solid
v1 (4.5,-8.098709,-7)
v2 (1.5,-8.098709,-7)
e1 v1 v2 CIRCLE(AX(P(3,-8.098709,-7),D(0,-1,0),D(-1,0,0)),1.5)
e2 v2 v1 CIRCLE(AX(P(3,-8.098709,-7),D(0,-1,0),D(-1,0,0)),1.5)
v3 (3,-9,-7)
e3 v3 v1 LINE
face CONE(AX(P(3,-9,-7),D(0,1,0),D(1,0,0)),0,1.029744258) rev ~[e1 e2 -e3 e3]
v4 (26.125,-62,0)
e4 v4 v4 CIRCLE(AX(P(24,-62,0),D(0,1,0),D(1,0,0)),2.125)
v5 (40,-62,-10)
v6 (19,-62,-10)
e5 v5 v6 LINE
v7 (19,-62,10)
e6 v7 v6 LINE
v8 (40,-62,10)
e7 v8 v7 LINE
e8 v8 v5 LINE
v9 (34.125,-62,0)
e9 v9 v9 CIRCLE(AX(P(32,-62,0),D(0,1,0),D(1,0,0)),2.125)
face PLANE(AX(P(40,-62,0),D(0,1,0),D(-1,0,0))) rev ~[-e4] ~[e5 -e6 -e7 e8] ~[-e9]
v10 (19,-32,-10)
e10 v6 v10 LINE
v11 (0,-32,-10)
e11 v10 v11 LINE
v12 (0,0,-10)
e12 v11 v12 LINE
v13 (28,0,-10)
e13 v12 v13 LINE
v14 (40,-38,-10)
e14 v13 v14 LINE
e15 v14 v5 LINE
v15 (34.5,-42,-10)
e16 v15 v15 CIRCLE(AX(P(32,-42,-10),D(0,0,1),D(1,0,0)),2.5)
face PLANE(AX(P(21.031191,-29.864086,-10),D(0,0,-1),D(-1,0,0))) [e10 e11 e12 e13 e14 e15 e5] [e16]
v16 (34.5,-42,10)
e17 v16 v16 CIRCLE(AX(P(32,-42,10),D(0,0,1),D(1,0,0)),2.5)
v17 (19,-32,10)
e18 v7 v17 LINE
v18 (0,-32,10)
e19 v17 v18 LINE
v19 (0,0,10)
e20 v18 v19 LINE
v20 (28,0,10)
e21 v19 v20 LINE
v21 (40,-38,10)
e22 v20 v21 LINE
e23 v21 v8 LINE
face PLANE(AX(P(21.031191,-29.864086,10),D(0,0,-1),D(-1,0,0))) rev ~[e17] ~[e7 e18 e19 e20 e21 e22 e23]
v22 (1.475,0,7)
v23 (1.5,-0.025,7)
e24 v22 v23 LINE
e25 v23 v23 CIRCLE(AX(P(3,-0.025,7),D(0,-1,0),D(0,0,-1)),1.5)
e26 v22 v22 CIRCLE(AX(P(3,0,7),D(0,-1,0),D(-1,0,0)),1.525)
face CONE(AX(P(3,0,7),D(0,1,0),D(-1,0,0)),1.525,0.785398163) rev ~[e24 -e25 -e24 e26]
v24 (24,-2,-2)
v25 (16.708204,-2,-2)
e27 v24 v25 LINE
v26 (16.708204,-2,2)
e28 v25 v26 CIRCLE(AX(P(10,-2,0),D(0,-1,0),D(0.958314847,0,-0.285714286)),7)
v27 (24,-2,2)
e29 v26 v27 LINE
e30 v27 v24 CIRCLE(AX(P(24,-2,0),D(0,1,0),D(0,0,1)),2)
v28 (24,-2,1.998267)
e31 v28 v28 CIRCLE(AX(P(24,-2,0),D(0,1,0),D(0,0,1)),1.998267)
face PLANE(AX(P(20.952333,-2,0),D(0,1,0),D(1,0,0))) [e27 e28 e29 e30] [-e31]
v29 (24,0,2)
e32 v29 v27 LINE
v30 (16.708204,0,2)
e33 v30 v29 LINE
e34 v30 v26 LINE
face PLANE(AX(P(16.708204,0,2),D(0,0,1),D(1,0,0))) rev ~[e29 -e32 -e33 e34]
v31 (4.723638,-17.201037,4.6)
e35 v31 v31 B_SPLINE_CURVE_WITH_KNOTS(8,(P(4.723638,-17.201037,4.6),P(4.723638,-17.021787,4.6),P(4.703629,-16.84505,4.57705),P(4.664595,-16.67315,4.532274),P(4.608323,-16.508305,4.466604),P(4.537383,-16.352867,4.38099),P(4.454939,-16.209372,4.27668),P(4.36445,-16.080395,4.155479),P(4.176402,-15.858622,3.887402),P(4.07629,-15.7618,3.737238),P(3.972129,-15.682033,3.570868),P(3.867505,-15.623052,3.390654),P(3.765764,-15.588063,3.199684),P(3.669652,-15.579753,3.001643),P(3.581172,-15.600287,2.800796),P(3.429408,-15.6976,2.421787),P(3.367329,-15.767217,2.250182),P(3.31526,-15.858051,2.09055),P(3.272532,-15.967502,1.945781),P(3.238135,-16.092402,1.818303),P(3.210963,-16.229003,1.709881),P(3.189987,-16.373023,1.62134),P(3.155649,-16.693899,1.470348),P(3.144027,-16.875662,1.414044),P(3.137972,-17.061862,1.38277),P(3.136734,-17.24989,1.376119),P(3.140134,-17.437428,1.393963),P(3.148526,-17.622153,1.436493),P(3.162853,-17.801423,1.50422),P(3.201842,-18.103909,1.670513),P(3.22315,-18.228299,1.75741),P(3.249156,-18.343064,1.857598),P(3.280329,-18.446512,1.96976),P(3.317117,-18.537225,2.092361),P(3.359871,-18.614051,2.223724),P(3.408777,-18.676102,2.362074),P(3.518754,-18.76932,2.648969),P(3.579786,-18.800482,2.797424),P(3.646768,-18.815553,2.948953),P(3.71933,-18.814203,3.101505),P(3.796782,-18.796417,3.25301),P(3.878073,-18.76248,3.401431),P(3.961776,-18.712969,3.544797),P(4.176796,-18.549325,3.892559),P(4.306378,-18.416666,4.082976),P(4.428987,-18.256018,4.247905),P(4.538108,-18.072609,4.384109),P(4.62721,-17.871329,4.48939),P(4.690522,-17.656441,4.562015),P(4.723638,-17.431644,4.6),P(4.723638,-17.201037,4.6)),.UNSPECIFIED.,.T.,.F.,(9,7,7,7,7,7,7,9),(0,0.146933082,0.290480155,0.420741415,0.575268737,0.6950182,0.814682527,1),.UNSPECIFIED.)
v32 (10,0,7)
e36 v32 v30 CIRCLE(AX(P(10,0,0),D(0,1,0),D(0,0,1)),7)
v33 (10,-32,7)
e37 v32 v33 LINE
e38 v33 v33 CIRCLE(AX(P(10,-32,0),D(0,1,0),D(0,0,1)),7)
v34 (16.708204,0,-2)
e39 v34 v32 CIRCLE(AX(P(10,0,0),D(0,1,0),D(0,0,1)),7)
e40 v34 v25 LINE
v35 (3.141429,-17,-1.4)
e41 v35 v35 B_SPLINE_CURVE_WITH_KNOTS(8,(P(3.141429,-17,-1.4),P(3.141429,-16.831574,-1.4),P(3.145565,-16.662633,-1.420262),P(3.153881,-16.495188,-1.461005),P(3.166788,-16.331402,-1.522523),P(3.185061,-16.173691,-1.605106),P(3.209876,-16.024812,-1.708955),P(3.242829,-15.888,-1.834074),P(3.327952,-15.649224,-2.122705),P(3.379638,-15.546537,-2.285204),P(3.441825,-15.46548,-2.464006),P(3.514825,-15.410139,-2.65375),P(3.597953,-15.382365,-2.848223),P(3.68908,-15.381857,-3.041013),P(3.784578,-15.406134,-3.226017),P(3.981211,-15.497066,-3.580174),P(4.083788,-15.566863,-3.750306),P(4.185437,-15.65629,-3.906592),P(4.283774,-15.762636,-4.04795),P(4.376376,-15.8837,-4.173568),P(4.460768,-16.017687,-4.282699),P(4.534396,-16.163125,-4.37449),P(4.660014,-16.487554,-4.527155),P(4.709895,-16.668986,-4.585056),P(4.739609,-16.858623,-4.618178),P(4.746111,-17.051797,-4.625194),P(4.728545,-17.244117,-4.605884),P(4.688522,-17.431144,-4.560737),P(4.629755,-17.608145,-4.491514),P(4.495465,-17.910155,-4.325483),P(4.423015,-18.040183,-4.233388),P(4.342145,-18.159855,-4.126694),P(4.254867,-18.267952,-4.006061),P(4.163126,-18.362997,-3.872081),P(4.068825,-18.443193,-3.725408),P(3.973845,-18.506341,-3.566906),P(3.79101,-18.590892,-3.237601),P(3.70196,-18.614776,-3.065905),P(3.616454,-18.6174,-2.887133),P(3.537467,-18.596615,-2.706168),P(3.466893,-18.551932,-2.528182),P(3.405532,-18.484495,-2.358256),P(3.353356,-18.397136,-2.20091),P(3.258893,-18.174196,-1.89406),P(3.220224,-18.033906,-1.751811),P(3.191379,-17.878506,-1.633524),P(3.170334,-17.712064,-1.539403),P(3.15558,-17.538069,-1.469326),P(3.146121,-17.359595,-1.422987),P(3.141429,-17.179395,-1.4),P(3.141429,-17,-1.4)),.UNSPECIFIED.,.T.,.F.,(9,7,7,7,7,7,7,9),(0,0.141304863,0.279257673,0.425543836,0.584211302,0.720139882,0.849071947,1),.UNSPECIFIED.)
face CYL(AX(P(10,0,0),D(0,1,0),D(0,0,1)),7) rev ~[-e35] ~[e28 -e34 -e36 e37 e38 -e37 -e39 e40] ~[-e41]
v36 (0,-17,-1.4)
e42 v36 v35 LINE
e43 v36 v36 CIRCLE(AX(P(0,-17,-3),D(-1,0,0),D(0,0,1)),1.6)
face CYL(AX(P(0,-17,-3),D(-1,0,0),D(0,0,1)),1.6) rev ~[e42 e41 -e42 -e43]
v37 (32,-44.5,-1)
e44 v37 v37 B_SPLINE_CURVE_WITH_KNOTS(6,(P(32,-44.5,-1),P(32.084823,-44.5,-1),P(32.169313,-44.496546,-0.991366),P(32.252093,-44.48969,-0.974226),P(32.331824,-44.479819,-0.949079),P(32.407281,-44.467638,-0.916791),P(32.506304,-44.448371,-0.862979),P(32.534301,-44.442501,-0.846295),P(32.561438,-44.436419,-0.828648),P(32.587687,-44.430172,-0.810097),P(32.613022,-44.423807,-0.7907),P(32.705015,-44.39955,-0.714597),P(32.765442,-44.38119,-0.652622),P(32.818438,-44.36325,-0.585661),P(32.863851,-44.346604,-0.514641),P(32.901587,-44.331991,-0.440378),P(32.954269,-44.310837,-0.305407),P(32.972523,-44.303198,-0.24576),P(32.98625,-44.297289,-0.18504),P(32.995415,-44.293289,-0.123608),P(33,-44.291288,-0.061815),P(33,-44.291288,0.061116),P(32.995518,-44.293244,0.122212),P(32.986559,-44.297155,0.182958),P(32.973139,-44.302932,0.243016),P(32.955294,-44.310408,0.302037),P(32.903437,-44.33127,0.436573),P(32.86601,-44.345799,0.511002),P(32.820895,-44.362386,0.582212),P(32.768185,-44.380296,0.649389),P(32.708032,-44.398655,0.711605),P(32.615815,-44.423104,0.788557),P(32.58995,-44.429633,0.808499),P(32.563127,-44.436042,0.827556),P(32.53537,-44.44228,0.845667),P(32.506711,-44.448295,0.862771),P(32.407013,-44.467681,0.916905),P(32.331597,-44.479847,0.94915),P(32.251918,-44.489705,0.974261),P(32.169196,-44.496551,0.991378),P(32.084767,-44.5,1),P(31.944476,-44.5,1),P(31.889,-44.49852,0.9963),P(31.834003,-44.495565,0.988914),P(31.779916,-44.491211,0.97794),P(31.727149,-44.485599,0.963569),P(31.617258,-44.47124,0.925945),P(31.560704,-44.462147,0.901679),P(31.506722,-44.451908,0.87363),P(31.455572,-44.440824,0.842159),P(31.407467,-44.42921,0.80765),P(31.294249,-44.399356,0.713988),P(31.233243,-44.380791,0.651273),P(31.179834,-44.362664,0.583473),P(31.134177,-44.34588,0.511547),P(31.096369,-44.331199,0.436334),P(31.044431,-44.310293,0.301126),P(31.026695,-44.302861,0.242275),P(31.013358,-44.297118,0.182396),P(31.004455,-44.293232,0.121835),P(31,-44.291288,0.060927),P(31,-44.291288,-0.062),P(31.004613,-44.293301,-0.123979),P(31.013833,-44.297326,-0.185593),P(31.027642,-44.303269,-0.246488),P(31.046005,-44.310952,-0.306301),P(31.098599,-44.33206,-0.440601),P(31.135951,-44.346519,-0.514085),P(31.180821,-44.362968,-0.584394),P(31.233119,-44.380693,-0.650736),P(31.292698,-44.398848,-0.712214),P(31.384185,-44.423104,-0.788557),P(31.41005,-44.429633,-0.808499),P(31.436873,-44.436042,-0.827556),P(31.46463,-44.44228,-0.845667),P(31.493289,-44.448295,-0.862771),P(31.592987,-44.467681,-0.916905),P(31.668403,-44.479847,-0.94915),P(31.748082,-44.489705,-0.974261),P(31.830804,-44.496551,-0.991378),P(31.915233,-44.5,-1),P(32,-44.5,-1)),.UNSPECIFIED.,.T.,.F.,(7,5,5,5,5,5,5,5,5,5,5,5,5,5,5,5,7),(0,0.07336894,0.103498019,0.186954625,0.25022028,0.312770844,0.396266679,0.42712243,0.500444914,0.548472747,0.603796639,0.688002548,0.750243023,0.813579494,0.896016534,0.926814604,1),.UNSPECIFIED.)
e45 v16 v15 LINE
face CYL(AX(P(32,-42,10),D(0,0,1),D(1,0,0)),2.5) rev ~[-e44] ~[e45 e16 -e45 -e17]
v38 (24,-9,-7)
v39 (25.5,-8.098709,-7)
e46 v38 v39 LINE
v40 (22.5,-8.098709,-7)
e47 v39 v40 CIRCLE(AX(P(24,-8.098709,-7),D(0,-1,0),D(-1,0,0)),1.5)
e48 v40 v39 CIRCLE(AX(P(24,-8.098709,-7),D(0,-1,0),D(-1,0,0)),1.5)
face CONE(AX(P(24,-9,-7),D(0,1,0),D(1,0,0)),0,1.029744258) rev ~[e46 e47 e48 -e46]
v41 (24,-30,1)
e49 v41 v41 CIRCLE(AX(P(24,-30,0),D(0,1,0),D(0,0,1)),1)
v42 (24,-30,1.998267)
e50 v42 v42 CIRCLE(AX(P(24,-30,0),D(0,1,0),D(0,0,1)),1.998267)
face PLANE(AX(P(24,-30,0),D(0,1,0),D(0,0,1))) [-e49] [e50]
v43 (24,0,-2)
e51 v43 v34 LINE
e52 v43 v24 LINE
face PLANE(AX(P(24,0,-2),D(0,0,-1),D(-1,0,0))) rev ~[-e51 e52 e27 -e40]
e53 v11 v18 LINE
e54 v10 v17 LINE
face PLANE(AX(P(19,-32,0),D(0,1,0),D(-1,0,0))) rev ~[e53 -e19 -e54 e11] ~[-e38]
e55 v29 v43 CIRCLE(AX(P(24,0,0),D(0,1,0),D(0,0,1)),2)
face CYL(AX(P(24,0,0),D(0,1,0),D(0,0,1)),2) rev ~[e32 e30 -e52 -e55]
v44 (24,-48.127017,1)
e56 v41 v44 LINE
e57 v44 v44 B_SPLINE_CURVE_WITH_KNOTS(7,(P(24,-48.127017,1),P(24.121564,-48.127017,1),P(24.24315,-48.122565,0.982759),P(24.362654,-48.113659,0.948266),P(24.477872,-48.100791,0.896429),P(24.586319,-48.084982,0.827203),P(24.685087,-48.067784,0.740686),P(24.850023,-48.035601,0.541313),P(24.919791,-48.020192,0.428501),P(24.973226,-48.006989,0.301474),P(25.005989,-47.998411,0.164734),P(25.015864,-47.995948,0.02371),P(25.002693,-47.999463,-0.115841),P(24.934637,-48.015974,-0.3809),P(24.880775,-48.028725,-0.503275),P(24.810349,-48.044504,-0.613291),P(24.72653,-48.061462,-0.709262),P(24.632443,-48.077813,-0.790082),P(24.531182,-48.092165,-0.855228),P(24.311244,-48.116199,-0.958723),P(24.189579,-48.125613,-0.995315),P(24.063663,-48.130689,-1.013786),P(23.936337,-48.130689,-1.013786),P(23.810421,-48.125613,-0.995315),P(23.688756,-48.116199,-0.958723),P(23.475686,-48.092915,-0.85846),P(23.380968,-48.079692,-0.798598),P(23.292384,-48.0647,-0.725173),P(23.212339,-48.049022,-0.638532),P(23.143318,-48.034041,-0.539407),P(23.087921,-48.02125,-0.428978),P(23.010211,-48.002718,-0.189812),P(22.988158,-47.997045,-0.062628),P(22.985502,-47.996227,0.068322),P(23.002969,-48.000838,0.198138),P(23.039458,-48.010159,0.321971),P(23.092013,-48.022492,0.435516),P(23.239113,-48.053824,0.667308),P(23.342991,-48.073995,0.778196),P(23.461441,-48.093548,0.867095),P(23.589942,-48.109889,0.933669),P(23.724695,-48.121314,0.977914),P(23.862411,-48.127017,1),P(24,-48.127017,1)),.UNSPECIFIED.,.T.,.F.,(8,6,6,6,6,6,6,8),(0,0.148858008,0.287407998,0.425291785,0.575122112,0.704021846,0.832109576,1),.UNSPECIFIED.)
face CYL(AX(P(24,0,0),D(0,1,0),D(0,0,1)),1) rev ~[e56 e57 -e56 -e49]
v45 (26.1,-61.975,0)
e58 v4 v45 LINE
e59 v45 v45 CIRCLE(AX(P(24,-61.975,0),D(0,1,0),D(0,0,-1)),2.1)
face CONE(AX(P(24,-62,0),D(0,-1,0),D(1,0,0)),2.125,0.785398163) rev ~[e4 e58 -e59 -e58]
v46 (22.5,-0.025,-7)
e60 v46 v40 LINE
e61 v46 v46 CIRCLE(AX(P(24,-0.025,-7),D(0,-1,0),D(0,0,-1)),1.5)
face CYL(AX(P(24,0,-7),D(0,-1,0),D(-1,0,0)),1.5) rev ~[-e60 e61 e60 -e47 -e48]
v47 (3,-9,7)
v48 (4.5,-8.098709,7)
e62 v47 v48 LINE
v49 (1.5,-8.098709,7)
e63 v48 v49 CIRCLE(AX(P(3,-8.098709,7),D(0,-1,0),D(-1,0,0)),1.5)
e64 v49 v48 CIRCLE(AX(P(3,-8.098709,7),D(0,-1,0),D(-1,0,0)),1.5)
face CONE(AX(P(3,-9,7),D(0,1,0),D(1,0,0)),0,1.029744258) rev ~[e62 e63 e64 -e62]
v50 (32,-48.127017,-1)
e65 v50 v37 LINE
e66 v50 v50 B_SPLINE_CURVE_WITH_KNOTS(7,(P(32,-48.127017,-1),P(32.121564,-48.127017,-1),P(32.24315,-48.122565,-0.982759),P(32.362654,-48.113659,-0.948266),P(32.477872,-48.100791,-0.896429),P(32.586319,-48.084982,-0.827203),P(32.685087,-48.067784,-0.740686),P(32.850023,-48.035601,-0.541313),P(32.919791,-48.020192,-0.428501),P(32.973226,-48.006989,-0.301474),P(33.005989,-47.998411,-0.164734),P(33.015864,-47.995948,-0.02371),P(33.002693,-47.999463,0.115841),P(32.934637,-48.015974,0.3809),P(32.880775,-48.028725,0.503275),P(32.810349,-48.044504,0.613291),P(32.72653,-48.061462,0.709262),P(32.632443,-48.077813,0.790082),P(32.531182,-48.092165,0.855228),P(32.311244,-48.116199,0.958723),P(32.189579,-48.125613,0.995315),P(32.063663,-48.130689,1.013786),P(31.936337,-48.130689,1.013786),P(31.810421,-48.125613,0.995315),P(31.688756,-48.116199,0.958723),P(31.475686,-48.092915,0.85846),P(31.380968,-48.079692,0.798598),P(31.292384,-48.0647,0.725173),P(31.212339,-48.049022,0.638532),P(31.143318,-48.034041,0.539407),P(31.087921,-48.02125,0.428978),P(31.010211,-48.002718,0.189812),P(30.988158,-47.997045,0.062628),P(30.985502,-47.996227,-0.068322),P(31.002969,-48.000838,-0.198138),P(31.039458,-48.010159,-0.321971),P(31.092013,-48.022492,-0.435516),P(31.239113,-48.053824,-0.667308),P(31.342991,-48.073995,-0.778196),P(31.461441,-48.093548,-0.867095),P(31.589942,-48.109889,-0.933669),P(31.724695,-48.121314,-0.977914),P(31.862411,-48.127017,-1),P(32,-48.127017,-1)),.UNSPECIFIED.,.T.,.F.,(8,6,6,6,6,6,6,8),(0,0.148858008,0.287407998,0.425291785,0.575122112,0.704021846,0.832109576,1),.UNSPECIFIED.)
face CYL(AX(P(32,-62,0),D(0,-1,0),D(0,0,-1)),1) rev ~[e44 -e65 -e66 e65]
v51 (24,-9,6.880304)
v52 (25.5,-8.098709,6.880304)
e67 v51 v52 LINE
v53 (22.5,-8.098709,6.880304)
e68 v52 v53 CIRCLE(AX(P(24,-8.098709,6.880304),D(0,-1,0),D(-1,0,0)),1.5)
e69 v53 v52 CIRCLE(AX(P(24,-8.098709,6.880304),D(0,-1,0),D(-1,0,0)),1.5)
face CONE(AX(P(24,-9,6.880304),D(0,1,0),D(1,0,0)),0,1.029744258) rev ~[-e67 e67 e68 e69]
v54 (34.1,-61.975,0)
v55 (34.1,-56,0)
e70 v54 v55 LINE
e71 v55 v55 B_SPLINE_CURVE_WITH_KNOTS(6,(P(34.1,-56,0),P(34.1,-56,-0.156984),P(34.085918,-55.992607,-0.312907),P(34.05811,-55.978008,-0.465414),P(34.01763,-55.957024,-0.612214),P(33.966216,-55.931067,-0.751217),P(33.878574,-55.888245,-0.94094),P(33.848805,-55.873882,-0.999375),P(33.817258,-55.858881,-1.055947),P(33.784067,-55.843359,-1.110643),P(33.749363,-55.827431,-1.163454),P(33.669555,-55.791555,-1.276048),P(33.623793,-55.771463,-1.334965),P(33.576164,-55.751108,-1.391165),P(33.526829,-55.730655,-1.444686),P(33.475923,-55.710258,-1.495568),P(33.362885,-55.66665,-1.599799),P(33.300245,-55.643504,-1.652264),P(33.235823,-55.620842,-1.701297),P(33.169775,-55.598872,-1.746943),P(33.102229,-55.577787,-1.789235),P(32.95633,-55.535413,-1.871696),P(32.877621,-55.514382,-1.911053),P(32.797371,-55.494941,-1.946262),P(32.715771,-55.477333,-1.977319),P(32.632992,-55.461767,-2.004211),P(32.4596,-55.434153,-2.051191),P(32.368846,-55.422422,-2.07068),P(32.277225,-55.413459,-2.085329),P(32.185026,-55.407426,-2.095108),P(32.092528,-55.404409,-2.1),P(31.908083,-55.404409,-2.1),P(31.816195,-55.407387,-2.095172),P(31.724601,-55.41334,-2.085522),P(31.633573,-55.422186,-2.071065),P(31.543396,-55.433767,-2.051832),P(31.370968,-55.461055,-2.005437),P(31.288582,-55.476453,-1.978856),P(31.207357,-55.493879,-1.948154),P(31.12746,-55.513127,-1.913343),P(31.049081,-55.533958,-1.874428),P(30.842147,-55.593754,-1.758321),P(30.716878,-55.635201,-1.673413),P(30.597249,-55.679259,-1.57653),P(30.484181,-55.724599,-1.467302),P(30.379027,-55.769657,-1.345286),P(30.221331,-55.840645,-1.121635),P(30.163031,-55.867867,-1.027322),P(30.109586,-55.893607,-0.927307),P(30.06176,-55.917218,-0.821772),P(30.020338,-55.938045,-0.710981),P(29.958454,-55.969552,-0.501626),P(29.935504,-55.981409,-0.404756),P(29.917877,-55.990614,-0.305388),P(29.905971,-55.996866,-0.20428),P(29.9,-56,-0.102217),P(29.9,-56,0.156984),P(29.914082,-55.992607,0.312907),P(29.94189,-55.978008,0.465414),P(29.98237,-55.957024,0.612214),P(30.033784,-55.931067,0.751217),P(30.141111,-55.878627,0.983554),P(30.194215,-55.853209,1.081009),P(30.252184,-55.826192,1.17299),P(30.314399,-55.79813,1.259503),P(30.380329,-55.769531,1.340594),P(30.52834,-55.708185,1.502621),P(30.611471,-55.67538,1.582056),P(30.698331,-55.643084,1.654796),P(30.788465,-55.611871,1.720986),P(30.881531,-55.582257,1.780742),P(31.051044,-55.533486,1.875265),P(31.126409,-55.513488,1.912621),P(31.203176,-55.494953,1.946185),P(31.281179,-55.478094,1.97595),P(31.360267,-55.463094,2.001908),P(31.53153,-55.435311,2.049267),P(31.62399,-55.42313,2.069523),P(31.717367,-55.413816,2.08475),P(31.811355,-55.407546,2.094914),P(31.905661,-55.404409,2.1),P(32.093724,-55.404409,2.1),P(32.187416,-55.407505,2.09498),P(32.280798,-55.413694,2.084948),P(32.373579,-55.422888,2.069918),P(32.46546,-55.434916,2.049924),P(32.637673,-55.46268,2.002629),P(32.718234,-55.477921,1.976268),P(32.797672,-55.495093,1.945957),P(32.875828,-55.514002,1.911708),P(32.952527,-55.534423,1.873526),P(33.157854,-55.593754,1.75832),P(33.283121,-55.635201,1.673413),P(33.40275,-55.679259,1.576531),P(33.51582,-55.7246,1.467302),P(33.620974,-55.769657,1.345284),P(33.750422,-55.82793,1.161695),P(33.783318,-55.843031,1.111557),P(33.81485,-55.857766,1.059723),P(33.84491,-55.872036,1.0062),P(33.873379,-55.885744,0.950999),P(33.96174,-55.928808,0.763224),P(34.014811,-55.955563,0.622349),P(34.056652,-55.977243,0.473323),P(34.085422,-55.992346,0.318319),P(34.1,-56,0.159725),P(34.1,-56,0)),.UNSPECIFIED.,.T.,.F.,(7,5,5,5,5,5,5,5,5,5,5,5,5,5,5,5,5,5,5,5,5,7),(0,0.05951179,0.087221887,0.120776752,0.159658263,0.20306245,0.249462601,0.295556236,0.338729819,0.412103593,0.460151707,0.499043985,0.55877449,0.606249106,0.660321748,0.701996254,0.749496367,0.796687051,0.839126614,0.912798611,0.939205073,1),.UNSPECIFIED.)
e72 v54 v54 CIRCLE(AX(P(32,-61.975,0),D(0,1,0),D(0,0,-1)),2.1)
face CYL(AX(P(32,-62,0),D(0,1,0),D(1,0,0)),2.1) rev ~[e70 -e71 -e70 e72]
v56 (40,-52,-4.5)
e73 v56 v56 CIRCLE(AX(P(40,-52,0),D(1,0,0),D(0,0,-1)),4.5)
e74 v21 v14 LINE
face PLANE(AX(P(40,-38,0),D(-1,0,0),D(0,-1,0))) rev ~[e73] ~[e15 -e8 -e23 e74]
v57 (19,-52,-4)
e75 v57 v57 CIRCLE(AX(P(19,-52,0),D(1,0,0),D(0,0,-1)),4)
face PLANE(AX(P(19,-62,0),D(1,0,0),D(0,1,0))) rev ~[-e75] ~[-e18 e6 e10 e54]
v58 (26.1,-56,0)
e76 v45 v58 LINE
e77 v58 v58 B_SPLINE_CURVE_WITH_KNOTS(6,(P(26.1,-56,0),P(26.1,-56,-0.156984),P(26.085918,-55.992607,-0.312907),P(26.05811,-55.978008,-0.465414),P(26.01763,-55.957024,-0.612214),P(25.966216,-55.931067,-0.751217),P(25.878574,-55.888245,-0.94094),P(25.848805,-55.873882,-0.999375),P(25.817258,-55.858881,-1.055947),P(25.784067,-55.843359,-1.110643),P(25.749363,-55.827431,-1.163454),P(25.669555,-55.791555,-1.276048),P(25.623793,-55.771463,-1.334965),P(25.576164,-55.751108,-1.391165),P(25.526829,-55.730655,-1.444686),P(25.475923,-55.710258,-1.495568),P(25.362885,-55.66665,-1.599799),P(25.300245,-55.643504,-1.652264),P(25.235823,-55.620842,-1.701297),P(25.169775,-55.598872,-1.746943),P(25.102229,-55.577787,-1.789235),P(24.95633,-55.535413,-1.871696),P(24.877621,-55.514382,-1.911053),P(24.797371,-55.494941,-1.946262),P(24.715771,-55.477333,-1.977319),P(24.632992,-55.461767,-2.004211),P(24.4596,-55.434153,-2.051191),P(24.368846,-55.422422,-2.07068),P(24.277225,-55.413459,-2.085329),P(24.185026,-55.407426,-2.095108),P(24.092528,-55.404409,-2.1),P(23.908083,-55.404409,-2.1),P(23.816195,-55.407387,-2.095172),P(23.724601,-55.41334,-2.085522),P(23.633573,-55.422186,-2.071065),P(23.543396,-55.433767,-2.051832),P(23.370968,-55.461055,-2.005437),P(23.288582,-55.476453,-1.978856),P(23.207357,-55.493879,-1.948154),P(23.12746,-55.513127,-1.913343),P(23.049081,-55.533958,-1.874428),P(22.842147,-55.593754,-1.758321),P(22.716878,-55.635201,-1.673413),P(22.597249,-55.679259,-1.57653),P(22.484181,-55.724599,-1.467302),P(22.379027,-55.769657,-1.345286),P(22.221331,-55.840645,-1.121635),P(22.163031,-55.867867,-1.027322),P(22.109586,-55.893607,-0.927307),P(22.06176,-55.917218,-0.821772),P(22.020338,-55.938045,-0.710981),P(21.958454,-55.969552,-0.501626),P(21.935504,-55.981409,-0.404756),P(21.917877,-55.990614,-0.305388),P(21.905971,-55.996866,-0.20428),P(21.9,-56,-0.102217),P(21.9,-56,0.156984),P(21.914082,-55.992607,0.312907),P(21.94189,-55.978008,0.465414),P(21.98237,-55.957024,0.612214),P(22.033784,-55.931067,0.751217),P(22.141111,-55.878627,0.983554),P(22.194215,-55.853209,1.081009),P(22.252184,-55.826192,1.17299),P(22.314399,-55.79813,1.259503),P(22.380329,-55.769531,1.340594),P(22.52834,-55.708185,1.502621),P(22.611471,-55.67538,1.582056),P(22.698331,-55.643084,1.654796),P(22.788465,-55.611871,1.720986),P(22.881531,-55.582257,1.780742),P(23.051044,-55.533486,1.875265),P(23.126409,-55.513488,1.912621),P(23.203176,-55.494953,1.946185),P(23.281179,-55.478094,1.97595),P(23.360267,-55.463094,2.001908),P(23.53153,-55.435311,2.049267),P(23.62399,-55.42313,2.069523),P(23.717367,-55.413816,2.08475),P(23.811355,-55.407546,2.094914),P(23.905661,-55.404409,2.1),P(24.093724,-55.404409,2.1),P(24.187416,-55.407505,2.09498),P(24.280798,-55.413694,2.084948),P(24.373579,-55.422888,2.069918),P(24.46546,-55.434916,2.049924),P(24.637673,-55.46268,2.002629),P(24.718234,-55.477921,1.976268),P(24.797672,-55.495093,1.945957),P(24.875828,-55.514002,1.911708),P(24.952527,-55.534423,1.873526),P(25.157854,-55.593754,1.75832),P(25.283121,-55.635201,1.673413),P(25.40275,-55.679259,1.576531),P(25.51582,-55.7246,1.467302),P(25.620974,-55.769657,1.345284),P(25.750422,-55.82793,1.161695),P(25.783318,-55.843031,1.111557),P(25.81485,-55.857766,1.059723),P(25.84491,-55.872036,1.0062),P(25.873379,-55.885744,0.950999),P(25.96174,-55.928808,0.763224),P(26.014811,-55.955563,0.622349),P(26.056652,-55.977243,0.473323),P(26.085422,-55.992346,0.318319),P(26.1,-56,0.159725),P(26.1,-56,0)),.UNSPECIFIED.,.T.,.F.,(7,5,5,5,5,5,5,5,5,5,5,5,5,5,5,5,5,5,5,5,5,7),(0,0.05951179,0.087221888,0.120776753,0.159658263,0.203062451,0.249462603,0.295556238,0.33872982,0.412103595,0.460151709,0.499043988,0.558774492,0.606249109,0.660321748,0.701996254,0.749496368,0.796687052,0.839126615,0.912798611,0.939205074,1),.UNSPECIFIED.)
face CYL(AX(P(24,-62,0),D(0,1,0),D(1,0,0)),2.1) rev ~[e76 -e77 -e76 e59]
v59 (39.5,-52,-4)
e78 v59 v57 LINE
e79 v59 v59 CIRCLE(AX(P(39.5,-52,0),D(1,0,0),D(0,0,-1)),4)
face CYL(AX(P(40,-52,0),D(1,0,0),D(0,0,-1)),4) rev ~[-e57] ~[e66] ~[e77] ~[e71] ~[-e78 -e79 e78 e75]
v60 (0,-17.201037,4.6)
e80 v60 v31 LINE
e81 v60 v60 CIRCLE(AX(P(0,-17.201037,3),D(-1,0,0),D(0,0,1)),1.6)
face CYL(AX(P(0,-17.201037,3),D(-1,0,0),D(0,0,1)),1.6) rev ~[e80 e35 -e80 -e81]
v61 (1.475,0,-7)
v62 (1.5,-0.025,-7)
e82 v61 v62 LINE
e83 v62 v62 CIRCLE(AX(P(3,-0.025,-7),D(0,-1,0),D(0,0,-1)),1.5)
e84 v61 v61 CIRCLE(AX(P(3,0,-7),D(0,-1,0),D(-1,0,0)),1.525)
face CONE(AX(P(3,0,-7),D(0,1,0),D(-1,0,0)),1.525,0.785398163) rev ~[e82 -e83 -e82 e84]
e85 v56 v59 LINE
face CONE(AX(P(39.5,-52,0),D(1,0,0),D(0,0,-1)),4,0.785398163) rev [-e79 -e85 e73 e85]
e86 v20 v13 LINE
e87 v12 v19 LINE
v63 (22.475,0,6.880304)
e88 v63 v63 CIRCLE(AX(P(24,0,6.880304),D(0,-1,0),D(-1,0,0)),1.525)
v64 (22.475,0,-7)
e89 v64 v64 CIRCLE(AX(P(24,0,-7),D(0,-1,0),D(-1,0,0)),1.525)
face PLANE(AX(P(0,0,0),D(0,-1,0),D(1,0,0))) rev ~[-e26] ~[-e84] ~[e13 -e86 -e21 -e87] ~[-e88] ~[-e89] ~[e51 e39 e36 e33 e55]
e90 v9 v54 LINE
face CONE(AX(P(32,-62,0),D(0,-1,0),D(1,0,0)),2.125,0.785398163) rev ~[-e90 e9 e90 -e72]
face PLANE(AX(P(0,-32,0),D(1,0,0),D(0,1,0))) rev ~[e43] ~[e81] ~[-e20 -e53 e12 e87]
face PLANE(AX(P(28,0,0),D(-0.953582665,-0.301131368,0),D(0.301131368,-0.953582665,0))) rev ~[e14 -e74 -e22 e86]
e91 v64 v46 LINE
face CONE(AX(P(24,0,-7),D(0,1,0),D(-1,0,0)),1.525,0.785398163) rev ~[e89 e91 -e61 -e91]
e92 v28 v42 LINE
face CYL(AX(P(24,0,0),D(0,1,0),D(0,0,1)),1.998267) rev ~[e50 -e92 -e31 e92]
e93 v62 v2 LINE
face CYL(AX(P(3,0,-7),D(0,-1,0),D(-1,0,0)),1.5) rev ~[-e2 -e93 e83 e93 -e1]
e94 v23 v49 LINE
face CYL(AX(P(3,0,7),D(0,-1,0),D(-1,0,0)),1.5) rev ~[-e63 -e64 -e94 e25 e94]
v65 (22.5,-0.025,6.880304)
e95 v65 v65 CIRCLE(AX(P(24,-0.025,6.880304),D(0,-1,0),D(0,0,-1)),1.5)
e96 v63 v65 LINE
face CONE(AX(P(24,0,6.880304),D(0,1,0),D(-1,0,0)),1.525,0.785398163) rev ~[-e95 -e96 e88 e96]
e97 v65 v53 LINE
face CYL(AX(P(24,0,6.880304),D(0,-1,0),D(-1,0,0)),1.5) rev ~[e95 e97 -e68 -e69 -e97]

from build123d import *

# Parameters (mm, degrees)
BOSS_EXTRUDE1_DEPTH                  = 10
CUT_EXTRUDE1_REACH                   = 76.458
SKETCH2_R                            = 7
CUT_EXTRUDE2_REACH                   = 76.458
SKETCH5_R                            = 4
CHAMFER1_SIZE                        = 0.5
F_4_2_4_2_DIAMETER_HOLE1_D           = 4.2
F_4_2_4_2_DIAMETER_HOLE1_DEPTH       = 8
F_4_2_4_2_DIAMETER_HOLE1_CSINK_D     = 4.25
F_4_2_4_2_DIAMETER_HOLE1_CSINK_ANGLE = 90
F_4_2_4_2_DIAMETER_HOLE1_TIP         = 1.2618073
CUT_EXTRUDE4_REACH                   = 78.446
SKETCH15_R                           = 2.5
SKETCH6_R                            = 1
CUT_EXTRUDE6_DEPTH                   = 21
CUT_EXTRUDE10_DEPTH                  = 2
SKETCH23_R                           = 1.99826656
CUT_EXTRUDE11_DEPTH                  = 30
SKETCH24_R                           = 1
CUT_EXTRUDE12_DEPTH                  = 51
F_3_0_3_DIAMETER_HOLE2_D             = 3
F_3_0_3_DIAMETER_HOLE2_DEPTH         = 8.098709071
F_3_0_3_DIAMETER_HOLE2_CSINK_D       = 3.05
F_3_0_3_DIAMETER_HOLE2_CSINK_ANGLE   = 90
F_3_0_3_DIAMETER_HOLE2_TIP           = 0.901290929
CUT_EXTRUDE13_REACH                  = 76.458
CUT_EXTRUDE13_END_RADIUS             = 7
SKETCH28_R                           = 1.6


with BuildPart() as part:
    # Sketch1 → Boss-Extrude1 (new, symmetric)
    with BuildSketch(Plane.XY):
        Polygon((0, 0), (28, 0), (40, -38), (40, -62), (19, -62), (19, -32), (0, -32), align=None)
    extrude(amount=BOSS_EXTRUDE1_DEPTH, both=True)

    # Sketch2 → Cut-Extrude1 (cut, up to next)
    with BuildSketch(Plane(origin=(0, 0, 0), x_dir=(1, 0, 0), z_dir=(0, 1, 0)), mode=Mode.PRIVATE) as cut_extrude1_sk1:
        with Locations(Location((10, 0, 0), (0, 0, 270))):
            Circle(SKETCH2_R)
    cut_extrude1_tool1 = extrude(cut_extrude1_sk1.sketch, amount=-CUT_EXTRUDE1_REACH, mode=Mode.PRIVATE) & part.part
    add(cut_extrude1_tool1.solids().sort_by_distance((10, 0, 0))[0], mode=Mode.SUBTRACT)

    # Sketch5 → Cut-Extrude2 (cut, up to next)
    with BuildSketch(Plane(origin=(40, 0, 0), x_dir=(0, 0, -1), z_dir=(1, 0, 0)), mode=Mode.PRIVATE) as cut_extrude2_sk1:
        with Locations((0, -52)):
            Circle(SKETCH5_R)
    cut_extrude2_tool1 = extrude(cut_extrude2_sk1.sketch, amount=-CUT_EXTRUDE2_REACH, mode=Mode.PRIVATE) & part.part
    add(cut_extrude2_tool1.solids().sort_by_distance((40, -52, 0))[0], mode=Mode.SUBTRACT)

    # Chamfer1
    chamfer1_edges = [part.edges().sort_by_distance(p)[0] for p in [
        (40, -52, 4),
    ]]
    chamfer(chamfer1_edges, length=CHAMFER1_SIZE)

    # Ø4.2 (4.2) Diameter Hole1
    with Locations(Plane(origin=(0, -62, 0), x_dir=(-1, 0, 0), z_dir=(0, -1, 0))):
        with Locations((-32, 0), (-24, 0)):
            CounterSinkHole(F_4_2_4_2_DIAMETER_HOLE1_D / 2, F_4_2_4_2_DIAMETER_HOLE1_CSINK_D / 2, depth=F_4_2_4_2_DIAMETER_HOLE1_DEPTH, counter_sink_angle=F_4_2_4_2_DIAMETER_HOLE1_CSINK_ANGLE)
            with Locations((0, 0, -(F_4_2_4_2_DIAMETER_HOLE1_DEPTH + F_4_2_4_2_DIAMETER_HOLE1_TIP / 2))):  # 118° drill point
                Cone(0, F_4_2_4_2_DIAMETER_HOLE1_D / 2, F_4_2_4_2_DIAMETER_HOLE1_TIP, mode=Mode.SUBTRACT)

    # Sketch15 → Cut-Extrude4 (cut, up to next)
    with BuildSketch(Plane.XY.offset(10), mode=Mode.PRIVATE) as cut_extrude4_sk1:
        with Locations((32, -42)):
            Circle(SKETCH15_R)
    cut_extrude4_tool1 = extrude(cut_extrude4_sk1.sketch, amount=-CUT_EXTRUDE4_REACH, mode=Mode.PRIVATE) & part.part
    add(cut_extrude4_tool1.solids().sort_by_distance((32, -42, 10))[0], mode=Mode.SUBTRACT)

    # Sketch6 → Cut-Extrude6 (cut)
    with BuildSketch(Plane.XZ.offset(62)):
        with Locations(Location((32, 0, 0), (0, 0, 270))):
            Circle(SKETCH6_R)
    extrude(amount=-CUT_EXTRUDE6_DEPTH, mode=Mode.SUBTRACT)

    # Sketch22 → Cut-Extrude10 (cut)
    with BuildSketch(Plane(origin=(0, 0, 0), x_dir=(1, 0, 0), z_dir=(0, 1, 0))):
        with BuildLine():
            ThreePointArc((16.708203932, 2), (17, 0), (16.708203932, -2))
            Line((16.708203932, -2), (24, -2))
            ThreePointArc((24, -2), (26, 0), (24, 2))
            Line((24, 2), (16.708203932, 2))
        make_face()
    extrude(amount=-CUT_EXTRUDE10_DEPTH, mode=Mode.SUBTRACT)

    # Sketch23 → Cut-Extrude11 (cut)
    with BuildSketch(Plane(origin=(0, 0, 0), x_dir=(1, 0, 0), z_dir=(0, 1, 0))):
        with Locations(Location((24, 0, 0), (0, 0, 270))):
            Circle(SKETCH23_R)
    extrude(amount=-CUT_EXTRUDE11_DEPTH, mode=Mode.SUBTRACT)

    # Sketch24 → Cut-Extrude12 (cut)
    with BuildSketch(Plane(origin=(0, 0, 0), x_dir=(1, 0, 0), z_dir=(0, 1, 0))):
        with Locations(Location((24, 0, 0), (0, 0, 270))):
            Circle(SKETCH24_R)
    extrude(amount=-CUT_EXTRUDE12_DEPTH, mode=Mode.SUBTRACT)

    # Ø3.0 (3) Diameter Hole2
    with Locations(Plane(origin=(0, 0, 0), x_dir=(1, 0, 0), z_dir=(0, 1, 0))):
        with Locations((24, 7), (24, -6.880303923), (3, -7), (3, 7)):
            CounterSinkHole(F_3_0_3_DIAMETER_HOLE2_D / 2, F_3_0_3_DIAMETER_HOLE2_CSINK_D / 2, depth=F_3_0_3_DIAMETER_HOLE2_DEPTH, counter_sink_angle=F_3_0_3_DIAMETER_HOLE2_CSINK_ANGLE)
            with Locations((0, 0, -(F_3_0_3_DIAMETER_HOLE2_DEPTH + F_3_0_3_DIAMETER_HOLE2_TIP / 2))):  # 118° drill point
                Cone(0, F_3_0_3_DIAMETER_HOLE2_D / 2, F_3_0_3_DIAMETER_HOLE2_TIP, mode=Mode.SUBTRACT)

    # Cut-Extrude13: up to this cylinder (the profile starts outside it)
    cut_extrude13_end = Plane(origin=(10, -17.1005185, 0), z_dir=(0, 1, 0)) * Cylinder(CUT_EXTRUDE13_END_RADIUS, 168.117037, mode=Mode.PRIVATE)
    # Sketch28 → Cut-Extrude13 (cut, up to the surface)
    with BuildSketch(Plane.ZY, mode=Mode.PRIVATE) as cut_extrude13_sk1:
        with Locations((-3, -17)):
            Circle(SKETCH28_R)
    cut_extrude13_tool1 = extrude(cut_extrude13_sk1.sketch, amount=-CUT_EXTRUDE13_REACH, mode=Mode.PRIVATE) - cut_extrude13_end
    add(cut_extrude13_tool1.solids().sort_by_distance((0, -17, -3))[0], mode=Mode.SUBTRACT)
    # Sketch28 → Cut-Extrude13 (cut, up to the surface)
    with BuildSketch(Plane.ZY, mode=Mode.PRIVATE) as cut_extrude13_sk2:
        with Locations((3, -17.201037224)):
            Circle(SKETCH28_R)
    cut_extrude13_tool2 = extrude(cut_extrude13_sk2.sketch, amount=-CUT_EXTRUDE13_REACH, mode=Mode.PRIVATE) - cut_extrude13_end
    add(cut_extrude13_tool2.solids().sort_by_distance((0, -17.201037, 3))[0], mode=Mode.SUBTRACT)


solid = part.part
